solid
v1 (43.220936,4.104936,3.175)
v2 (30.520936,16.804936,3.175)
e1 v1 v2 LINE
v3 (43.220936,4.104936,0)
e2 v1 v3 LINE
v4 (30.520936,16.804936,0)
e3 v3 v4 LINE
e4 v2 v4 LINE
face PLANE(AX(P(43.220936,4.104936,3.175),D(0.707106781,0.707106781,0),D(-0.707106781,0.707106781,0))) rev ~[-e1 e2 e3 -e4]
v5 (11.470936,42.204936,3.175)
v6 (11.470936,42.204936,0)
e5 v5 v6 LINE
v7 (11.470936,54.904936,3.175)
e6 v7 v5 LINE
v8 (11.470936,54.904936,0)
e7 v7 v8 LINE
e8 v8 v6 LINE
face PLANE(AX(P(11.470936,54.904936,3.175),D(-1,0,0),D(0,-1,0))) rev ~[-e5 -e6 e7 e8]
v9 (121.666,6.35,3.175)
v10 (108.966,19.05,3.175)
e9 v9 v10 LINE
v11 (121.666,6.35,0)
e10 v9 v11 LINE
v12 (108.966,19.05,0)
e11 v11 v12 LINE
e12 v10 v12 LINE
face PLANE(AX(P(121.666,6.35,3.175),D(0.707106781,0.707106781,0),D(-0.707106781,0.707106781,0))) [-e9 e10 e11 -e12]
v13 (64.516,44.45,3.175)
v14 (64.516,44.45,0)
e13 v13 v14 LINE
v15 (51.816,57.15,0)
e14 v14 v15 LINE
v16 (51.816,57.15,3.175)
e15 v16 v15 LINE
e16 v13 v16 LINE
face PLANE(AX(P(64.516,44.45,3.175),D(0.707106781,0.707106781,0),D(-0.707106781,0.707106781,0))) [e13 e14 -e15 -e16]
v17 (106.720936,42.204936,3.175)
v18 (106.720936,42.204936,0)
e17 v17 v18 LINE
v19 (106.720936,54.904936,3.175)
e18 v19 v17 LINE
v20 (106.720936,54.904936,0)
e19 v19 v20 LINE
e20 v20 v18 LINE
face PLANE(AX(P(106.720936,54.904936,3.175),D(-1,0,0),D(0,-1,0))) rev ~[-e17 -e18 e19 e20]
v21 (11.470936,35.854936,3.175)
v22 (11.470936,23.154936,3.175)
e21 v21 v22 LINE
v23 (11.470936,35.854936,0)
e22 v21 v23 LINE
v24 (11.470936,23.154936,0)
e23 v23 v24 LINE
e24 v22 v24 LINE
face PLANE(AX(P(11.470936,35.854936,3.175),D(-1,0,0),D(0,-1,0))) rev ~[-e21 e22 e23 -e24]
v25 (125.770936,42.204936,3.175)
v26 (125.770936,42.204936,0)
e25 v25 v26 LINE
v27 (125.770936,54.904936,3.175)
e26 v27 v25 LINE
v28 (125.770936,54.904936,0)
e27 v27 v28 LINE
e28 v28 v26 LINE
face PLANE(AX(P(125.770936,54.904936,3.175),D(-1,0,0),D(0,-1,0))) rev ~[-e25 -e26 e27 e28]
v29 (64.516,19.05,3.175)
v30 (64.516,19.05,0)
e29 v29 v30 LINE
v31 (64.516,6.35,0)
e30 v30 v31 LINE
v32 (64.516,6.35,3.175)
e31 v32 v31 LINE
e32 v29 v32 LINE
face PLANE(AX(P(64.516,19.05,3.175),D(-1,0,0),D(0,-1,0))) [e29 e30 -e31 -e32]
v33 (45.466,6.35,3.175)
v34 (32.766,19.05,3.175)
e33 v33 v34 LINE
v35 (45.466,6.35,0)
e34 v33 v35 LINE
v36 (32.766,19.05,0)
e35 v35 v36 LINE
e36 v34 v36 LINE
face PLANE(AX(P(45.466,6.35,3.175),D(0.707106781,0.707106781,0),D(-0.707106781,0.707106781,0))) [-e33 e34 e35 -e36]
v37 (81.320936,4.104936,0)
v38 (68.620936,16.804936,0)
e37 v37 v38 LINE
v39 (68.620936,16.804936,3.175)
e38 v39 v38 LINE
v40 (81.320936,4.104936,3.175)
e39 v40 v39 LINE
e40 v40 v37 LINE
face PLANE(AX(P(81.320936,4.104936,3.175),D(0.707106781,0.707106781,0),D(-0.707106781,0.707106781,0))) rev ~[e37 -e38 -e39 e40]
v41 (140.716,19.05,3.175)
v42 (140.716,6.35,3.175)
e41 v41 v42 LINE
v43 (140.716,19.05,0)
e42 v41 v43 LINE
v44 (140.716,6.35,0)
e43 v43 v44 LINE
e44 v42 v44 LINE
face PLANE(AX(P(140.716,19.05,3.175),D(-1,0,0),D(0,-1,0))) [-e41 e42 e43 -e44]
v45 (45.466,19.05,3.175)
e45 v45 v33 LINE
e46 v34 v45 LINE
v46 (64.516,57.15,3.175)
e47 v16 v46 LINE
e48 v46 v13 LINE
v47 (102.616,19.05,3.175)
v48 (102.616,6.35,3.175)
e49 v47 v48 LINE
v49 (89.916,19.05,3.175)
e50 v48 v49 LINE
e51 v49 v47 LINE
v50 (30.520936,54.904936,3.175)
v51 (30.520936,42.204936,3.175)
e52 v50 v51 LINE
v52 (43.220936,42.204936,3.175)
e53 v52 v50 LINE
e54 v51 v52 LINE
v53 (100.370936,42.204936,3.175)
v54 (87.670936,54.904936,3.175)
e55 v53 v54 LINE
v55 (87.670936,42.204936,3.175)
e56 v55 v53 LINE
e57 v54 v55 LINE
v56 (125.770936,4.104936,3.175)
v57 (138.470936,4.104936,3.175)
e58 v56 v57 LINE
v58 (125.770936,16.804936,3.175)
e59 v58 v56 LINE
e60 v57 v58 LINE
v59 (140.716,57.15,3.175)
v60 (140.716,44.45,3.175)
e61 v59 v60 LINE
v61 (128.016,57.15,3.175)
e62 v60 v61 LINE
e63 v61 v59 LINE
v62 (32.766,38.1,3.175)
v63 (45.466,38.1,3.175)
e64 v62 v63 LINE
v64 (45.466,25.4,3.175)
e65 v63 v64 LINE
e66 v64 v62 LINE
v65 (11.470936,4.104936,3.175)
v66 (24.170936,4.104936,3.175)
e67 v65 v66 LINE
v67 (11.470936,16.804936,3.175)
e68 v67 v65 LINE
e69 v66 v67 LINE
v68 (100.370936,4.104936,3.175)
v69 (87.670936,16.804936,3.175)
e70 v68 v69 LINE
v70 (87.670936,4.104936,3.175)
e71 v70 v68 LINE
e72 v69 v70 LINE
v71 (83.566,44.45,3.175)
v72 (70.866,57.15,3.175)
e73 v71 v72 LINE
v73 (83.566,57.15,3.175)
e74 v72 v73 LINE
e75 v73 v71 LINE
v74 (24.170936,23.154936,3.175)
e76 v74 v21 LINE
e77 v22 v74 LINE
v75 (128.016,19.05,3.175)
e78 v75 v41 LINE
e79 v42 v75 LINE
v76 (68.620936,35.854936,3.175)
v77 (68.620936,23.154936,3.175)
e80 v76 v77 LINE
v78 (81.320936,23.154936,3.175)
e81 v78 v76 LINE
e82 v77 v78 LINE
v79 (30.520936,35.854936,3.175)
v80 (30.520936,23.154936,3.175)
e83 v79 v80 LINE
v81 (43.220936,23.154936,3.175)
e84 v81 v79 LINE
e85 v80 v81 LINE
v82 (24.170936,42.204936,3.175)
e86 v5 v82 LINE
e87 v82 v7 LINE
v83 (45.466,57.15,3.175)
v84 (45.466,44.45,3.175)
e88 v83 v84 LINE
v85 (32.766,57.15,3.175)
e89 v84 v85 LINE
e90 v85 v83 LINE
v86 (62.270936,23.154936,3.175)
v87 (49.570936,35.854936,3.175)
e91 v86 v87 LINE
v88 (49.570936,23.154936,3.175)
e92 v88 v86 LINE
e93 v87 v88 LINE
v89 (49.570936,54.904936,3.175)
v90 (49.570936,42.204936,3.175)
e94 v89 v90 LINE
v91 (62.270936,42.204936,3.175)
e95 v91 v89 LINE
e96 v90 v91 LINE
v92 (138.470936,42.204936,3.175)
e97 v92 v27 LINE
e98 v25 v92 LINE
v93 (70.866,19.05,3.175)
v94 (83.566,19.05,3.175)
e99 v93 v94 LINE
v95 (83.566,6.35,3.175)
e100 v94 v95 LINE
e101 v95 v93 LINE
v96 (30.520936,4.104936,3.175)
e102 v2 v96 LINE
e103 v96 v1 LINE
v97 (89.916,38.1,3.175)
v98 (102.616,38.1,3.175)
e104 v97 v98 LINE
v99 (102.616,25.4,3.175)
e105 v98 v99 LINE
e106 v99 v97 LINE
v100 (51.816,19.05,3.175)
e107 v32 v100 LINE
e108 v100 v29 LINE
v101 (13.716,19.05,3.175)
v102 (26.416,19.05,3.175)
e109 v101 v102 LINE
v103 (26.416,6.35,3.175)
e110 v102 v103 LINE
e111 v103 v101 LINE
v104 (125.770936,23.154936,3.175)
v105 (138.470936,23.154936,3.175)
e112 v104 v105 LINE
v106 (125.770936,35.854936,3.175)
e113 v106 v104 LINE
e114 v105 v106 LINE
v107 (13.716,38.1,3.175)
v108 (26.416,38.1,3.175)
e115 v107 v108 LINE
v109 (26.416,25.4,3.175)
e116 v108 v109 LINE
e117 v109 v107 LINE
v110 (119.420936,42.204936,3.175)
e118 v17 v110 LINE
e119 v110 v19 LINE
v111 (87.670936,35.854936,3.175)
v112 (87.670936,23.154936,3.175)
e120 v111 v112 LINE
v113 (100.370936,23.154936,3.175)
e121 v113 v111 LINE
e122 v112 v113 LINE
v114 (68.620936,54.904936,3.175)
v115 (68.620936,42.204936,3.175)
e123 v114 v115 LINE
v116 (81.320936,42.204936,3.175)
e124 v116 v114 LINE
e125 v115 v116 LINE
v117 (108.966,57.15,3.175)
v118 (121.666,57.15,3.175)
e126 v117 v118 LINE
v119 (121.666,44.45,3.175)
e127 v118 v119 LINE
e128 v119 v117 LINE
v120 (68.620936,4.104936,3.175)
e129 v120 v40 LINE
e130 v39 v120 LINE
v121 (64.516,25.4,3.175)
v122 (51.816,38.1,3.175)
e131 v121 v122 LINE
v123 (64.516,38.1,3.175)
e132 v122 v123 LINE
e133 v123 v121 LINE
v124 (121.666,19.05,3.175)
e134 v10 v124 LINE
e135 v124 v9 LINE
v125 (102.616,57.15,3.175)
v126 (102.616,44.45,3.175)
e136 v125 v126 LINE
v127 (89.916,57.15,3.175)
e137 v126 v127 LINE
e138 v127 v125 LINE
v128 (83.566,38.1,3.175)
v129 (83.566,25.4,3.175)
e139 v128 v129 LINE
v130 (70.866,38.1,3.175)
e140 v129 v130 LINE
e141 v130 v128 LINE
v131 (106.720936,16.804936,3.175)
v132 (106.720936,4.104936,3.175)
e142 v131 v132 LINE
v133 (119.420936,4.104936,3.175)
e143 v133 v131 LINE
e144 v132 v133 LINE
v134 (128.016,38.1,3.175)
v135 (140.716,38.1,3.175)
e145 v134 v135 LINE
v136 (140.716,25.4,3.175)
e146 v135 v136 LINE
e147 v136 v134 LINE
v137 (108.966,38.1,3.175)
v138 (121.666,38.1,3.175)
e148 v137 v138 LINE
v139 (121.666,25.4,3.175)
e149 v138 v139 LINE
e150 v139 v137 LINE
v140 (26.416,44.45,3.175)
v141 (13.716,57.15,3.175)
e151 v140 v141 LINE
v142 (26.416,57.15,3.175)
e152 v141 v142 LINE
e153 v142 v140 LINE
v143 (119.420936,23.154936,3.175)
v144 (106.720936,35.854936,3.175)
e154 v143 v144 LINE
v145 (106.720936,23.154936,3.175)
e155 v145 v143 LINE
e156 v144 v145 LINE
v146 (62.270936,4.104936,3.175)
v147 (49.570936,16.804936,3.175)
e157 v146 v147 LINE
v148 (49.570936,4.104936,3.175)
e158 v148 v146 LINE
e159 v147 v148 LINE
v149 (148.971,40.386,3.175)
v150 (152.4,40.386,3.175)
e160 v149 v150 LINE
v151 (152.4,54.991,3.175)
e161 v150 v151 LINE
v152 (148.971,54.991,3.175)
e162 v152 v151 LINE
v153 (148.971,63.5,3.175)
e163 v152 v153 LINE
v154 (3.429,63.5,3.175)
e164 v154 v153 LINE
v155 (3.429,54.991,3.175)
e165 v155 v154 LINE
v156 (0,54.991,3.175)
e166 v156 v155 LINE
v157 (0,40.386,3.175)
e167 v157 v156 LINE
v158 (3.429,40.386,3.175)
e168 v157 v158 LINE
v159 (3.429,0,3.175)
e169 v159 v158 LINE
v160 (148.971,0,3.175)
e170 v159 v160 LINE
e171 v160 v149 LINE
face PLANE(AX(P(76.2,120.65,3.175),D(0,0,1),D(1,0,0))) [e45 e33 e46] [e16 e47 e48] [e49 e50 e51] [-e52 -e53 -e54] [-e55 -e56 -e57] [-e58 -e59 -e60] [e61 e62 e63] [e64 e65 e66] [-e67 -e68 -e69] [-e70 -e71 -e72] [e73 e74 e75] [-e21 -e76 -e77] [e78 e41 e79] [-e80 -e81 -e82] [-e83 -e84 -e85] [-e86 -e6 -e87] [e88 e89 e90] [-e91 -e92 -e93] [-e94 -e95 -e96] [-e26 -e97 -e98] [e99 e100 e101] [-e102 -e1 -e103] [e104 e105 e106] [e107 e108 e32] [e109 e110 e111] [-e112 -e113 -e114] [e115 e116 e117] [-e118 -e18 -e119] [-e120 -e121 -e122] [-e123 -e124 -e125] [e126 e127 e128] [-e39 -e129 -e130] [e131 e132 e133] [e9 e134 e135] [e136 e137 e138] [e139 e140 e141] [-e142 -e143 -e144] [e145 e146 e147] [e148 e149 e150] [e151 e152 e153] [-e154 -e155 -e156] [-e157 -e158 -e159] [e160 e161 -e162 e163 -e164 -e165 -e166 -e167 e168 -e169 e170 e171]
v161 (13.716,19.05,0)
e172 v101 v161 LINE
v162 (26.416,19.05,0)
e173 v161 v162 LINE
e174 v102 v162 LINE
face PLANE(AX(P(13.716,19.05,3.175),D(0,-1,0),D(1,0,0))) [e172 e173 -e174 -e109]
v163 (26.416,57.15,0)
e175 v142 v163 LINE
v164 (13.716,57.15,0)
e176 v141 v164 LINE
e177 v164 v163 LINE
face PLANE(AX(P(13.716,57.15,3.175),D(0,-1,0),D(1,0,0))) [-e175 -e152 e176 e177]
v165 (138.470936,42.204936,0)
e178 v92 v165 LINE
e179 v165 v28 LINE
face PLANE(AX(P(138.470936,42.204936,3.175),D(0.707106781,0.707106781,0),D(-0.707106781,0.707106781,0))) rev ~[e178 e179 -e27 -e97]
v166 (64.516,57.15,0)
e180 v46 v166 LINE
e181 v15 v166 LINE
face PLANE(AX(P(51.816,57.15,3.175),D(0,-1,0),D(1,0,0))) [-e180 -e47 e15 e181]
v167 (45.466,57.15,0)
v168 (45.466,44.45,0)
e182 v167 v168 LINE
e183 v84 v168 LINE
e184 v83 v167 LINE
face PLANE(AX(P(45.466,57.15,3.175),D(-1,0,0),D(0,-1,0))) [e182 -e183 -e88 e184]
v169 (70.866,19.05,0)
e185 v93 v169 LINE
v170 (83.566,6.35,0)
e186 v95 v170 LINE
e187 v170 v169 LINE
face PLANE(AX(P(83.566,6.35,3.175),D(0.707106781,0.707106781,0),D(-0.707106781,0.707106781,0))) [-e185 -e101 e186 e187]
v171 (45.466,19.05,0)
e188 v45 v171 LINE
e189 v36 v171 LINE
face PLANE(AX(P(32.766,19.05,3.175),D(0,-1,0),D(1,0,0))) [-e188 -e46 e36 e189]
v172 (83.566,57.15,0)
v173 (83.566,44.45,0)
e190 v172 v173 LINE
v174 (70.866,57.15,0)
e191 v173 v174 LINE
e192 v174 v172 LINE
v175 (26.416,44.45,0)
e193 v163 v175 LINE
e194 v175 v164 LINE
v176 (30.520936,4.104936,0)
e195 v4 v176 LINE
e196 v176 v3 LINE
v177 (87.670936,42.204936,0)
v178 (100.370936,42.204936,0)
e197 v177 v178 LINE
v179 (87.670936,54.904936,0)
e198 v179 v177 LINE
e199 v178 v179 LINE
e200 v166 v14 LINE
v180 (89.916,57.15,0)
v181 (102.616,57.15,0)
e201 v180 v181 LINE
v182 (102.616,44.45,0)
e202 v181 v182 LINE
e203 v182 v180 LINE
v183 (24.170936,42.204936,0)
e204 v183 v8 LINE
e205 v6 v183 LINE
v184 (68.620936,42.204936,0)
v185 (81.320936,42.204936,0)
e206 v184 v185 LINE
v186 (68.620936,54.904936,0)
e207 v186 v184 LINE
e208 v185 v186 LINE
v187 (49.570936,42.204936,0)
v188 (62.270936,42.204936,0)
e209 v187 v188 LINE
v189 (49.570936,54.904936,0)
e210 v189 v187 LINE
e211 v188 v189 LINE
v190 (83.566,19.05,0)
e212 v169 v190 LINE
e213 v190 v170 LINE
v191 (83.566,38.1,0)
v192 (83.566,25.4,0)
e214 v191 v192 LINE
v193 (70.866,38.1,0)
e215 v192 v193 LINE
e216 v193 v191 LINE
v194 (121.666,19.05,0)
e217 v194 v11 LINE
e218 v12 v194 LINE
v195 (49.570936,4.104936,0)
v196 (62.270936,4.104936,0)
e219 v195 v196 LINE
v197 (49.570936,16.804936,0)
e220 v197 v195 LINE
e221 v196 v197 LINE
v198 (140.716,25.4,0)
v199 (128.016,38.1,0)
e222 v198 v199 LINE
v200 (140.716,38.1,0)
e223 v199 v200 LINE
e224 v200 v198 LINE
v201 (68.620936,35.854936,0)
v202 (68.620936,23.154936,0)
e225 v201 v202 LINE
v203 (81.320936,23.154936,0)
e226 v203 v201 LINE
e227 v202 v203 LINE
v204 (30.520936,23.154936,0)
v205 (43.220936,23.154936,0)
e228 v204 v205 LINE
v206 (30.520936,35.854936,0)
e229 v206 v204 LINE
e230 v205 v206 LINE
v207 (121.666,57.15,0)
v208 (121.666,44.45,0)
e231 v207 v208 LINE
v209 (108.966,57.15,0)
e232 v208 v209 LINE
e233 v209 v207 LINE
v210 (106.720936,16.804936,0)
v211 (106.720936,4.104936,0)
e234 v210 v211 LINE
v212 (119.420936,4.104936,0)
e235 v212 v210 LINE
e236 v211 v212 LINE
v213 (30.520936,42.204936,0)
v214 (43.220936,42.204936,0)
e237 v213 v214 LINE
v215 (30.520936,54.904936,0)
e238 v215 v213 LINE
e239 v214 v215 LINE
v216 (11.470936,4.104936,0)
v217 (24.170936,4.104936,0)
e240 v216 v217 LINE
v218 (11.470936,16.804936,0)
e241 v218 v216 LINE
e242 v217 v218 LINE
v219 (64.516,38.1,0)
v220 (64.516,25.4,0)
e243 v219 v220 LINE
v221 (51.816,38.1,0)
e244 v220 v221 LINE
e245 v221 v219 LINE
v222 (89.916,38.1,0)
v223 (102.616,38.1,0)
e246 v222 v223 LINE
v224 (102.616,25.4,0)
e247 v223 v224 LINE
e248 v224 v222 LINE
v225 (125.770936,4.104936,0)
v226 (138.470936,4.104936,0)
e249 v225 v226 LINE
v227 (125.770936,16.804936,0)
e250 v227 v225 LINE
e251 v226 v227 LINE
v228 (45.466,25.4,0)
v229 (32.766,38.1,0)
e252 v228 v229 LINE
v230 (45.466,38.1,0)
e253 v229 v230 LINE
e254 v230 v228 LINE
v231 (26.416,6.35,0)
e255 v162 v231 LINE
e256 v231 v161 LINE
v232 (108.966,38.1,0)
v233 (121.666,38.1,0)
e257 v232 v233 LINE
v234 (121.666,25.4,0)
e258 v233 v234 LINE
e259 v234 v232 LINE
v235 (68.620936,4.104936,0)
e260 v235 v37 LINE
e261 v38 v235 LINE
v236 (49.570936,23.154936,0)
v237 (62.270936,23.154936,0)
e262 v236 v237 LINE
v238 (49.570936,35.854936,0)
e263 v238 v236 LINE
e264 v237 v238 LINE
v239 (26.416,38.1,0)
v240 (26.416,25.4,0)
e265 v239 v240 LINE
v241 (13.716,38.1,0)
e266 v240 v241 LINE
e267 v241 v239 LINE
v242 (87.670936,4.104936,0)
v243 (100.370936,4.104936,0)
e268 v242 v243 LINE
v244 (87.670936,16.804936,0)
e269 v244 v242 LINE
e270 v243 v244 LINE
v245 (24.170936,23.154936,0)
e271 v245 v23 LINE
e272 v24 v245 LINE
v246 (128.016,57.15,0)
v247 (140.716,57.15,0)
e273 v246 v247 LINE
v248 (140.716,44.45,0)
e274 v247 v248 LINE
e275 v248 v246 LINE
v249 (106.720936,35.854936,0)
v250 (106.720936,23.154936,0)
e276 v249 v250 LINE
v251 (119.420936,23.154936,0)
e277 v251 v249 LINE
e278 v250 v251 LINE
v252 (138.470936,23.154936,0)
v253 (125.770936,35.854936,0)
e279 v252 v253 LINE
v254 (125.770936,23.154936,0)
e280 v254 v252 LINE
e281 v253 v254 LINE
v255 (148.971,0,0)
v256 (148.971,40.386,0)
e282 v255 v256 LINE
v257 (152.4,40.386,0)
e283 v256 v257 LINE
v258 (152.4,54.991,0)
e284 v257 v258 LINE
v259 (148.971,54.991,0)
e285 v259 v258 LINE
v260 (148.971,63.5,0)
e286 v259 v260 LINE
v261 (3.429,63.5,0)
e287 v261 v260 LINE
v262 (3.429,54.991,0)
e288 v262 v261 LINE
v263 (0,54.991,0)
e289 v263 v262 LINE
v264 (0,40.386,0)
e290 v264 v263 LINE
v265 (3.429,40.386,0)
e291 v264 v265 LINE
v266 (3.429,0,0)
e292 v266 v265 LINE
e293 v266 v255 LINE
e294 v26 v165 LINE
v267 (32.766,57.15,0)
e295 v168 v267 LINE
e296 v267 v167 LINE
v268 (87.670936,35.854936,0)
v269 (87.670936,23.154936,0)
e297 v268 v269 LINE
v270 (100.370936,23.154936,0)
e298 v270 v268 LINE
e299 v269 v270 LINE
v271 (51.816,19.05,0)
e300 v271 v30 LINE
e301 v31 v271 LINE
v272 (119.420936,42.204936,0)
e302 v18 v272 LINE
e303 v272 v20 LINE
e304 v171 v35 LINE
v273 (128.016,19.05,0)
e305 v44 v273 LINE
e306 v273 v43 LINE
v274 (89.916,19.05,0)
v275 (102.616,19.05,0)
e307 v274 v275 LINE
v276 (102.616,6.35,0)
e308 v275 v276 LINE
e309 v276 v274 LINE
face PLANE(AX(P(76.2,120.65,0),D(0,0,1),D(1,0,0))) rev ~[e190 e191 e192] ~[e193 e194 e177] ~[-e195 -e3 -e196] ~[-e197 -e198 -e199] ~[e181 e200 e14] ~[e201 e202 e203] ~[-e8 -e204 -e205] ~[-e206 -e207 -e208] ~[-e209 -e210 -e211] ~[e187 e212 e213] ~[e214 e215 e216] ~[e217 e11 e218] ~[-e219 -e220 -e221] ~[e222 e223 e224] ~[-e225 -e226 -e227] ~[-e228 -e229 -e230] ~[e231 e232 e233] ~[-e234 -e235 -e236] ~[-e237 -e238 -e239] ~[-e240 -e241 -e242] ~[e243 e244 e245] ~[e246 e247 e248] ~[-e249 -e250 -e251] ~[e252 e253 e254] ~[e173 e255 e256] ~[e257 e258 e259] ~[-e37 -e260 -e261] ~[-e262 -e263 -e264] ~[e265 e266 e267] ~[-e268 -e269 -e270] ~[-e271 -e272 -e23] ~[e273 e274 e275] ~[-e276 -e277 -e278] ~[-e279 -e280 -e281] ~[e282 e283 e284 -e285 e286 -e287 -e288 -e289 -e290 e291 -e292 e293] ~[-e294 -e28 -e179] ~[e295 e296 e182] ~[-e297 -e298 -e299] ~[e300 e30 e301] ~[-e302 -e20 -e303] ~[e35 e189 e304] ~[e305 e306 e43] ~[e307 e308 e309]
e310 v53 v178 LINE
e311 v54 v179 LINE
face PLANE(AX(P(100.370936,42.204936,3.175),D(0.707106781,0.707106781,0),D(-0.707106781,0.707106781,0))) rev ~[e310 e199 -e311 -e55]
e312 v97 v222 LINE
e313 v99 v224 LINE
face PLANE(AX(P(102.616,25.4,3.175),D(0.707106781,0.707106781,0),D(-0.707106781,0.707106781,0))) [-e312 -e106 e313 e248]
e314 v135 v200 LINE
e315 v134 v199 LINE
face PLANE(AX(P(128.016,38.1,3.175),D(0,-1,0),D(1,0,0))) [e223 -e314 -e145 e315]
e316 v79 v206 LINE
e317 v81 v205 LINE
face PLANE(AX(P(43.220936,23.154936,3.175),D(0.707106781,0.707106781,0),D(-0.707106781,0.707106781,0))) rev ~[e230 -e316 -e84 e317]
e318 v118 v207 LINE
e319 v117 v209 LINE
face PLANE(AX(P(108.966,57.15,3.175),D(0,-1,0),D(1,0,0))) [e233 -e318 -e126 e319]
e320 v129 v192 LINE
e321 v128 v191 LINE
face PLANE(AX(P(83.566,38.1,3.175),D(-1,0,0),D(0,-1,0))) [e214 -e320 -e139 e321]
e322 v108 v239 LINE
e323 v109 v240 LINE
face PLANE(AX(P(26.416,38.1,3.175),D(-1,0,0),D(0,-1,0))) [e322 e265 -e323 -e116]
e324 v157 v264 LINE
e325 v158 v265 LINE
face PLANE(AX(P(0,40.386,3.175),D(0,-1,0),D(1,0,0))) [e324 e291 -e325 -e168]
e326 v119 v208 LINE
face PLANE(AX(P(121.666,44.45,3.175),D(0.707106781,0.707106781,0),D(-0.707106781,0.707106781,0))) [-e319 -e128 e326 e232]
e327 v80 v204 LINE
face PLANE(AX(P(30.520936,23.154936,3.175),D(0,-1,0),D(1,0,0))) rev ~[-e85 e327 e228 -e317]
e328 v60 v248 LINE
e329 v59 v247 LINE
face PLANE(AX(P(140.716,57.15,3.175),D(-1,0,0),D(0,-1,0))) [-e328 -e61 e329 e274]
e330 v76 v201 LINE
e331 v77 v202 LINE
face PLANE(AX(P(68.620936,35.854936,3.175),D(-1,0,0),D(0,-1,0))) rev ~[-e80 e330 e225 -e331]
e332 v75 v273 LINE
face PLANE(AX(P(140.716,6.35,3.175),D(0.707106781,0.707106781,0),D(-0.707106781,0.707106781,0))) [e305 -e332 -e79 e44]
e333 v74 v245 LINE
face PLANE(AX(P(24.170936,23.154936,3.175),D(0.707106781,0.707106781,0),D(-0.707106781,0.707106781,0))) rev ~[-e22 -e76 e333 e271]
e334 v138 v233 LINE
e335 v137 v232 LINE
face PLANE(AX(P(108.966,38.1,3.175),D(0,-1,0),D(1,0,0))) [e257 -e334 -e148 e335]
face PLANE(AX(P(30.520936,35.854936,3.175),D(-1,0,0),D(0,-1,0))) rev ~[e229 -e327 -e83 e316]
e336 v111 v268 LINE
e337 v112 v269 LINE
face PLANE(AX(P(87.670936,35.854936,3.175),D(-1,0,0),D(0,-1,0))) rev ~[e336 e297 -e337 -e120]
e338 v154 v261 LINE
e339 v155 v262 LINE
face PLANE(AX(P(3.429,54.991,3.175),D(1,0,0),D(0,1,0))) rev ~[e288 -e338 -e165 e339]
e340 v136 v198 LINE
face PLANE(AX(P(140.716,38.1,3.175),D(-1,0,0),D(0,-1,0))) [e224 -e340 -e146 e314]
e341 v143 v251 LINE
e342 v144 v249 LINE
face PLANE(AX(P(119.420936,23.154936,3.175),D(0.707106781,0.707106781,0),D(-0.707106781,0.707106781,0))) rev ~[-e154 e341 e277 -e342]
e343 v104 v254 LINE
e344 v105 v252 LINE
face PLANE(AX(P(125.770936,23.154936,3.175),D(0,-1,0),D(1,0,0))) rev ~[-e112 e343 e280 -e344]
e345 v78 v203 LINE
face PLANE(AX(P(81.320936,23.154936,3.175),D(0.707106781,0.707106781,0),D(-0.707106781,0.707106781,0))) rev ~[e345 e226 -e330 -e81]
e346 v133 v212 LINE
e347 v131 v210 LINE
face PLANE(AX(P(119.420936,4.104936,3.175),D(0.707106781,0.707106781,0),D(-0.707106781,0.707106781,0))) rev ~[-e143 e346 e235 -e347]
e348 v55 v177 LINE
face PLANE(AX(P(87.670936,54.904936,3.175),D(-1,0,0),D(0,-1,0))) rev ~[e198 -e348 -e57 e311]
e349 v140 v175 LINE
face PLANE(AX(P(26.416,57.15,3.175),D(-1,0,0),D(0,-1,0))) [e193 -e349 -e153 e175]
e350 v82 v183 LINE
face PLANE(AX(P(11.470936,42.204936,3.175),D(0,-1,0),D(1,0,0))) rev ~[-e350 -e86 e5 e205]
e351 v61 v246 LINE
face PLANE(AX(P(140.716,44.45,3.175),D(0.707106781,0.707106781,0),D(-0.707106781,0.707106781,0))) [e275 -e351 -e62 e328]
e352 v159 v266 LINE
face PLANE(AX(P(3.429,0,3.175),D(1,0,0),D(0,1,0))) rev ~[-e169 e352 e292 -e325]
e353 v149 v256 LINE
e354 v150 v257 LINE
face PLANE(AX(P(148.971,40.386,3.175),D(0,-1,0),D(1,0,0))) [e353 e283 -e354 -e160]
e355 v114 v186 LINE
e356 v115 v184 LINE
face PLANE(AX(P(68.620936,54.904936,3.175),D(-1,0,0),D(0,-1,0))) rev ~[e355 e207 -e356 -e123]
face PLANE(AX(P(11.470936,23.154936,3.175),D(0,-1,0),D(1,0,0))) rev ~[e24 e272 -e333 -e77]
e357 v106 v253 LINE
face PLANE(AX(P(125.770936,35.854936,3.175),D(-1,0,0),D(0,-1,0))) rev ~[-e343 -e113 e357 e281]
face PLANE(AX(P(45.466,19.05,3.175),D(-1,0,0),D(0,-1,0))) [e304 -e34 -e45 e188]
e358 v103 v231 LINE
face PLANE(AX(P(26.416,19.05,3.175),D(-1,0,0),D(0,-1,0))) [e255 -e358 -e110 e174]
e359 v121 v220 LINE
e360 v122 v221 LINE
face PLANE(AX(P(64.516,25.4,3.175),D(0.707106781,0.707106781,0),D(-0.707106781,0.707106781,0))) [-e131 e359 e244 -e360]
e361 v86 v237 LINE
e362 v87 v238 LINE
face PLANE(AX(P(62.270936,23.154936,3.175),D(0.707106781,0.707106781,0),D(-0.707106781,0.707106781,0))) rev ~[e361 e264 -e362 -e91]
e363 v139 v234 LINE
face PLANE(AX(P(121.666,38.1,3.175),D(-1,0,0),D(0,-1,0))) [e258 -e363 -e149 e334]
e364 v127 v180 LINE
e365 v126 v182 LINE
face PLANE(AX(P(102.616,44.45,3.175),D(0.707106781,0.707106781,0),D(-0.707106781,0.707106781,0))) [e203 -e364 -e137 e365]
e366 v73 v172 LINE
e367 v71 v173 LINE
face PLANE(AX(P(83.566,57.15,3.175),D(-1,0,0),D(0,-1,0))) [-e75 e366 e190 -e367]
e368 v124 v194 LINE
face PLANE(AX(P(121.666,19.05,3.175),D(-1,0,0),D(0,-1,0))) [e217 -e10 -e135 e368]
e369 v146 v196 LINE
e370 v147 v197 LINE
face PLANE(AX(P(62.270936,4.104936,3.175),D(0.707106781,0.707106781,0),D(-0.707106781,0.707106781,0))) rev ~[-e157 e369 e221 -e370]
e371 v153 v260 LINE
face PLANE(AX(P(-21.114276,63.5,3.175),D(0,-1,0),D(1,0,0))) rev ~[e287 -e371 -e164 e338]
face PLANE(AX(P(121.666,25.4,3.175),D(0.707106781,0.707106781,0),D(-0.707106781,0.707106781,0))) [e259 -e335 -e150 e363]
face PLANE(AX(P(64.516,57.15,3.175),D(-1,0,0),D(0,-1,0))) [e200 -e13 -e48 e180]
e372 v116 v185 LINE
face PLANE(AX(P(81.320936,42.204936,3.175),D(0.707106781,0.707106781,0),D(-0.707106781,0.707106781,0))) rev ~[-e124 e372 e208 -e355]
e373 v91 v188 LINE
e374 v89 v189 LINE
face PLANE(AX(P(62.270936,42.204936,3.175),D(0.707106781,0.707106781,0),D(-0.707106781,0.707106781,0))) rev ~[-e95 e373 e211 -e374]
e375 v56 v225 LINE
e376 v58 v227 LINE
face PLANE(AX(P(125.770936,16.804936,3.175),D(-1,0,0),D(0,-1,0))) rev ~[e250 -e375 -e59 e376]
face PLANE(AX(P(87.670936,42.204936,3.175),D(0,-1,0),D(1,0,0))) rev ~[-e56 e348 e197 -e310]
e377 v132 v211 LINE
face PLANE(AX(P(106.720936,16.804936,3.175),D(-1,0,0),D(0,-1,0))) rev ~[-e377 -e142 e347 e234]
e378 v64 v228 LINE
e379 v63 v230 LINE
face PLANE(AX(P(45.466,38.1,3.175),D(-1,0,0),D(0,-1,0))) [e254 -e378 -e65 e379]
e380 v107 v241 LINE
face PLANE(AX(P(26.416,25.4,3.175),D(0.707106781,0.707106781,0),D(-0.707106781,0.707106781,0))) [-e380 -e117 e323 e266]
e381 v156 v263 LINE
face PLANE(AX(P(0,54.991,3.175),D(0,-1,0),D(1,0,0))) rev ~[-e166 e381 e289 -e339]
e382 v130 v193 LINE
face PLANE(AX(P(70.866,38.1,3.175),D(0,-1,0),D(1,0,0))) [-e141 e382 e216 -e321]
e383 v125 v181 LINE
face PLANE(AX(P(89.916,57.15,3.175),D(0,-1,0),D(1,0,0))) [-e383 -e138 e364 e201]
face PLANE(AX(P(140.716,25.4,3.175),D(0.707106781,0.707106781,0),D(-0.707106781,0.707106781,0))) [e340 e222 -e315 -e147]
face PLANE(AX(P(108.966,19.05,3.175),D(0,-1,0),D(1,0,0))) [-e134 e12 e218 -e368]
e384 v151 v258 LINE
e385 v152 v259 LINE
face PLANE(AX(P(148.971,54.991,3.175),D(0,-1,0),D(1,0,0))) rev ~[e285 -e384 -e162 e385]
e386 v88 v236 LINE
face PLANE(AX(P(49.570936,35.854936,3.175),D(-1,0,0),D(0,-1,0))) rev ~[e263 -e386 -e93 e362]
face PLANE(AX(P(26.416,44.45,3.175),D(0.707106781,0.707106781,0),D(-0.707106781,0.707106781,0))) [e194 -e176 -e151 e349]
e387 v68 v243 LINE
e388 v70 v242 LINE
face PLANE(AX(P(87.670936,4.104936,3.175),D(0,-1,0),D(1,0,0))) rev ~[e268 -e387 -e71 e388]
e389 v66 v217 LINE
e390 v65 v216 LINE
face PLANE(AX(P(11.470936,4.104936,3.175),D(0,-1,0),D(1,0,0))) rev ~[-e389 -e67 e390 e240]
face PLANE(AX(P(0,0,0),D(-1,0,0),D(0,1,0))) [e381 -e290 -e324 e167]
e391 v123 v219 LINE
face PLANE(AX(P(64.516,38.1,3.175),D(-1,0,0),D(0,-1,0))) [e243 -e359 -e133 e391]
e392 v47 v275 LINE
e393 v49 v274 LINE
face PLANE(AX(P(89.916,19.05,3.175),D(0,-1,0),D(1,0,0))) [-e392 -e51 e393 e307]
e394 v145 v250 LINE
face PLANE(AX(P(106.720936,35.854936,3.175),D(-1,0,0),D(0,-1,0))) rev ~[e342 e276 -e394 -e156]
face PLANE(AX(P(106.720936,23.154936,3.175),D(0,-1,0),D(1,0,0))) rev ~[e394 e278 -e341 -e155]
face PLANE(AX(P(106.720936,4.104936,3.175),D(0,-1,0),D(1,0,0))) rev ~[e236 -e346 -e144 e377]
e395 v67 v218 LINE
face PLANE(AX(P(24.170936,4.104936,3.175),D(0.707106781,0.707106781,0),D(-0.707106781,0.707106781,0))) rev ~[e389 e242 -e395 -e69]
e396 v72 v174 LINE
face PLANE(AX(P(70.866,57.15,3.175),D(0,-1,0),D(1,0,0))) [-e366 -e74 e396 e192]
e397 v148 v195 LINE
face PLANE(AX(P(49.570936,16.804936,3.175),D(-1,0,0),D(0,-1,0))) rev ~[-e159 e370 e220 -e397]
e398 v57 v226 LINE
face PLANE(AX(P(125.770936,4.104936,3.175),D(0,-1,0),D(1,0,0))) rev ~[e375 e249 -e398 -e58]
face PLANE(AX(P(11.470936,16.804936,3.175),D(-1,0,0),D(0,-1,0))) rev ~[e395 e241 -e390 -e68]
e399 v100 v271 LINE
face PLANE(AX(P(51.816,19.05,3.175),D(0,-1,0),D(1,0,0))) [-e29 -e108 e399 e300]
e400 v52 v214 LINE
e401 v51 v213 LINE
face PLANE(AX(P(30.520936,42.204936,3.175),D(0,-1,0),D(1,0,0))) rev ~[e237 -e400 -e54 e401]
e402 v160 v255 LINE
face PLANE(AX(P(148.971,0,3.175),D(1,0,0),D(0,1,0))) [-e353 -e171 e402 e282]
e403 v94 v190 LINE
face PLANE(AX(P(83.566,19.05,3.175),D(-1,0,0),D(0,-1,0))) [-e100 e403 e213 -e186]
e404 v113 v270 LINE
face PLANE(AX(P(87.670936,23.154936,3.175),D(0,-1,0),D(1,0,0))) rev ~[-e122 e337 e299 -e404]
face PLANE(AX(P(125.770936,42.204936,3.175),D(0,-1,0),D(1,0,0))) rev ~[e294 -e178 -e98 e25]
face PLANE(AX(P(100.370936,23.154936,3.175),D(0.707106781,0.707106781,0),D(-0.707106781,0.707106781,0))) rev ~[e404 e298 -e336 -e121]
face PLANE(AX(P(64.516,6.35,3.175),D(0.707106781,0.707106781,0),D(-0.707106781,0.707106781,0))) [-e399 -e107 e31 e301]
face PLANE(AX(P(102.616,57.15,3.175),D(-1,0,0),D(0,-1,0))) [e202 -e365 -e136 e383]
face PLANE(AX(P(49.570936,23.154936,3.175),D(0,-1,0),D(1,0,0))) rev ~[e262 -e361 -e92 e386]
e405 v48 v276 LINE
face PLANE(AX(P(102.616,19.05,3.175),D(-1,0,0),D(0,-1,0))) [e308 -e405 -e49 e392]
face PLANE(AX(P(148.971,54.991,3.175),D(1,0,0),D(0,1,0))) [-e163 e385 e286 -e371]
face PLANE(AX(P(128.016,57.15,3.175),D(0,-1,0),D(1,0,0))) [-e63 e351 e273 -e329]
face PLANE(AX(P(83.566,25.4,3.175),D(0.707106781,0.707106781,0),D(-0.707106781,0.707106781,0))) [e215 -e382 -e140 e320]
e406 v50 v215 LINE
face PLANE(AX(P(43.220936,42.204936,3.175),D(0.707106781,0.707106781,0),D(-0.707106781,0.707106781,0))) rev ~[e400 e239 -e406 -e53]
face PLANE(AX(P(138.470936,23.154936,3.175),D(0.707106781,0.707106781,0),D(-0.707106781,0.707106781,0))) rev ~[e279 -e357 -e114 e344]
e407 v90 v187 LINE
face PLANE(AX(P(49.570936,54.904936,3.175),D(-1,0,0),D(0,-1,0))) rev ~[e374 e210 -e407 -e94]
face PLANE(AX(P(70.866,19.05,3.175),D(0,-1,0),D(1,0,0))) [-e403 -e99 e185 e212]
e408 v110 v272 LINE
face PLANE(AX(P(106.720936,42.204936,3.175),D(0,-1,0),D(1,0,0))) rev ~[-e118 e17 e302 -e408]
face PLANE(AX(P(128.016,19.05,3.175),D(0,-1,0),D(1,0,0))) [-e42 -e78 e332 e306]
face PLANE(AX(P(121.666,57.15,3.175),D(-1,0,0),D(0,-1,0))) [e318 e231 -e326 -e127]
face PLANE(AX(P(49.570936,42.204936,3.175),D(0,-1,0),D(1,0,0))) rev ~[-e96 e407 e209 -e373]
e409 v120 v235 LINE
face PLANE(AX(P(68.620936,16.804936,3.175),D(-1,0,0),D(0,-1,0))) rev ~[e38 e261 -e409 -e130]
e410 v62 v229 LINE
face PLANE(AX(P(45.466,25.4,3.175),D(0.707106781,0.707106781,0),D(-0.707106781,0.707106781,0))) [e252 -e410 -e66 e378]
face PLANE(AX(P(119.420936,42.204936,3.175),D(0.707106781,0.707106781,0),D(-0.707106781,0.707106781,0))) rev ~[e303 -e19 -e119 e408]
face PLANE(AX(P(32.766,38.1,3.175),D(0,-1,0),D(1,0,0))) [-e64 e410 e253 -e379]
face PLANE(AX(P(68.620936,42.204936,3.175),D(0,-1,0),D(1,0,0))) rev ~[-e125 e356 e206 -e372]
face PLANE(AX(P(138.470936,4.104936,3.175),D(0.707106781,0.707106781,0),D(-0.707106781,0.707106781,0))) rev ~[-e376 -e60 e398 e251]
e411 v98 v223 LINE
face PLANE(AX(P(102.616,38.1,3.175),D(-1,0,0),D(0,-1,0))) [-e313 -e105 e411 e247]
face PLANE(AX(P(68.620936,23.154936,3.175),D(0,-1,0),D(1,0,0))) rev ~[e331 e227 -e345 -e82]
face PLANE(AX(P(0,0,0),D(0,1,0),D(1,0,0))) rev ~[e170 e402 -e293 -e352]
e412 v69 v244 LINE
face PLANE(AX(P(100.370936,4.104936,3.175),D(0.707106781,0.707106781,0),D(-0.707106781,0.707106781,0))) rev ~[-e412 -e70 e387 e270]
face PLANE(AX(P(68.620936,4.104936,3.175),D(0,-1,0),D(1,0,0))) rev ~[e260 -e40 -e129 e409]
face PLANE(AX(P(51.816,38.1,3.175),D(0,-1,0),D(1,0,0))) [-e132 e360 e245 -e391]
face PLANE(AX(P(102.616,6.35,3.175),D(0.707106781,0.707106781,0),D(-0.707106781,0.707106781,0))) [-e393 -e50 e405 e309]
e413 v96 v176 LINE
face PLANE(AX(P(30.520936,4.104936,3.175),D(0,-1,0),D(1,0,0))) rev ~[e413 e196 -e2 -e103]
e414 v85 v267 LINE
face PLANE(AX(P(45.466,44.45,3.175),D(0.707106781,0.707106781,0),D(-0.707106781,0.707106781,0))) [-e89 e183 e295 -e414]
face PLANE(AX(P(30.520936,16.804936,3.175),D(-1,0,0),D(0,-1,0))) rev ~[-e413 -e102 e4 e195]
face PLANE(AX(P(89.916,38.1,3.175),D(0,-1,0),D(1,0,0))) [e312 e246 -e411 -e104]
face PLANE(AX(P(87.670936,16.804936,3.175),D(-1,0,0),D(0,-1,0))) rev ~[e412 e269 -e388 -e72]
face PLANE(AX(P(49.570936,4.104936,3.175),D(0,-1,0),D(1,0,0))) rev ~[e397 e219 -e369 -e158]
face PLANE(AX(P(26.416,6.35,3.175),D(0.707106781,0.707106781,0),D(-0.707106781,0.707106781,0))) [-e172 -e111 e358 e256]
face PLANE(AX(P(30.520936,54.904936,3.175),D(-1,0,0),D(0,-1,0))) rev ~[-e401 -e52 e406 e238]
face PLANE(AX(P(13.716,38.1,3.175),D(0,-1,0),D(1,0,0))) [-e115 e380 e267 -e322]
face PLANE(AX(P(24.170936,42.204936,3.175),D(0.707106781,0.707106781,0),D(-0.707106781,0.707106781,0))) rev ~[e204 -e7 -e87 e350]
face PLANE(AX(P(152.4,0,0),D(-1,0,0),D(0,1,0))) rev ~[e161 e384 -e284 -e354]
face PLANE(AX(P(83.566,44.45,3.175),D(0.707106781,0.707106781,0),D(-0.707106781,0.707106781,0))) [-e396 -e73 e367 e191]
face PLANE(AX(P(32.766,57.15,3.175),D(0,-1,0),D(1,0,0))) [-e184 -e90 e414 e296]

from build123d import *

# Parameters (mm, degrees)
SKETCH1_W           = 152.4
SKETCH1_H           = 241.3
BOSS_EXTRUDE1_DEPTH = 3.175
SKETCH2_W           = 3.429
SKETCH2_H           = 168.148
SKETCH2_H_2         = 40.386
CUT_EXTRUDE1_DEPTH  = 286.414664348
SKETCH3_W           = 119.38
SKETCH3_H           = 119.38
SKETCH3_W_2         = 74.6125
SKETCH3_H_2         = 25.4
SKETCH3_W_3         = 12.7
SKETCH3_H_3         = 16.256
SKETCH3_W_4         = 5.334
SKETCH3_H_4         = 7.239
CUT_EXTRUDE2_DEPTH  = 286.414664348
SKETCH4_W           = 194.284224207
SKETCH4_H           = 180.265938869
CUT_EXTRUDE4_DEPTH  = 286.414664348


with BuildPart() as part:
    # Sketch1 → Boss-Extrude1 (new body)
    with BuildSketch(Plane.XY):
        with Locations((76.2, 120.65)):
            Rectangle(SKETCH1_W, SKETCH1_H)
    extrude(amount=BOSS_EXTRUDE1_DEPTH)

    # Sketch2 → Cut-Extrude1 (cut, through all)
    with BuildSketch(Plane.XY.offset(3.175)):
        with Locations((150.6855, 139.065)):
            Rectangle(SKETCH2_W, SKETCH2_H)
        with Locations((1.7145, 139.065)):
            Rectangle(SKETCH2_W, SKETCH2_H)
        with Locations((150.6855, 20.193)):
            Rectangle(SKETCH2_W, SKETCH2_H_2)
        with Locations((1.7145, 20.193)):
            Rectangle(SKETCH2_W, SKETCH2_H_2)
    extrude(amount=-CUT_EXTRUDE1_DEPTH, mode=Mode.SUBTRACT)

    # Sketch3 → Cut-Extrude2 (cut, through all)
    with BuildSketch(Plane.XY.offset(3.175)):
        Polygon((128.016, 57.15), (140.716, 57.15), (140.716, 44.45), align=None)
        Polygon((125.77093597, 42.20493597), (138.47093597, 42.20493597), (125.77093597, 54.90493597), align=None)
        Polygon((108.966, 57.15), (121.666, 57.15), (121.666, 44.45), align=None)
        Polygon((119.42093597, 42.20493597), (106.72093597, 54.90493597), (106.72093597, 42.20493597), align=None)
        Polygon((89.916, 57.15), (102.616, 57.15), (102.616, 44.45), align=None)
        Polygon((100.37093597, 42.20493597), (87.67093597, 54.90493597), (87.67093597, 42.20493597), align=None)
        Polygon((70.866, 57.15), (83.566, 57.15), (83.566, 44.45), align=None)
        Polygon((81.32093597, 42.20493597), (68.62093597, 54.90493597), (68.62093597, 42.20493597), align=None)
        Polygon((51.816, 57.15), (64.516, 57.15), (64.516, 44.45), align=None)
        Polygon((62.27093597, 42.20493597), (49.57093597, 54.90493597), (49.57093597, 42.20493597), align=None)
        Polygon((32.766, 57.15), (45.466, 57.15), (45.466, 44.45), align=None)
        Polygon((43.22093597, 42.20493597), (30.52093597, 54.90493597), (30.52093597, 42.20493597), align=None)
        Polygon((13.716, 57.15), (26.416, 57.15), (26.416, 44.45), align=None)
        Polygon((24.17093597, 42.20493597), (11.47093597, 54.90493597), (11.47093597, 42.20493597), align=None)
        Polygon((128.016, 38.1), (140.716, 38.1), (140.716, 25.4), align=None)
        with Locations((76.454, 129.159)):
            Rectangle(SKETCH3_W, SKETCH3_H)
        Polygon((125.77093597, 23.15493597), (138.47093597, 23.15493597), (125.77093597, 35.85493597), align=None)
        Polygon((108.966, 38.1), (121.666, 38.1), (121.666, 25.4), align=None)
        Polygon((119.42093597, 23.15493597), (106.72093597, 35.85493597), (106.72093597, 23.15493597), align=None)
        Polygon((89.916, 38.1), (102.616, 38.1), (102.616, 25.4), align=None)
        Polygon((100.37093597, 23.15493597), (87.67093597, 35.85493597), (87.67093597, 23.15493597), align=None)
        Polygon((70.866, 38.1), (83.566, 38.1), (83.566, 25.4), align=None)
        Polygon((81.32093597, 23.15493597), (68.62093597, 35.85493597), (68.62093597, 23.15493597), align=None)
        Polygon((51.816, 38.1), (64.516, 38.1), (64.516, 25.4), align=None)
        Polygon((62.27093597, 23.15493597), (49.57093597, 35.85493597), (49.57093597, 23.15493597), align=None)
        Polygon((32.766, 38.1), (45.466, 38.1), (45.466, 25.4), align=None)
        Polygon((43.22093597, 23.15493597), (30.52093597, 35.85493597), (30.52093597, 23.15493597), align=None)
        Polygon((13.716, 38.1), (26.416, 38.1), (26.416, 25.4), align=None)
        Polygon((24.17093597, 23.15493597), (11.47093597, 35.85493597), (11.47093597, 23.15493597), align=None)
        Polygon((128.016, 19.05), (140.716, 19.05), (140.716, 6.35), align=None)
        Polygon((125.77093597, 4.10493597), (138.47093597, 4.10493597), (125.77093597, 16.80493597), align=None)
        Polygon((108.966, 19.05), (121.666, 19.05), (121.666, 6.35), align=None)
        Polygon((119.42093597, 4.10493597), (106.72093597, 16.80493597), (106.72093597, 4.10493597), align=None)
        Polygon((89.916, 19.05), (102.616, 19.05), (102.616, 6.35), align=None)
        Polygon((100.37093597, 4.10493597), (87.67093597, 16.80493597), (87.67093597, 4.10493597), align=None)
        Polygon((70.866, 19.05), (83.566, 19.05), (83.566, 6.35), align=None)
        Polygon((81.32093597, 4.10493597), (68.62093597, 16.80493597), (68.62093597, 4.10493597), align=None)
        Polygon((51.816, 19.05), (64.516, 19.05), (64.516, 6.35), align=None)
        Polygon((62.27093597, 4.10493597), (49.57093597, 16.80493597), (49.57093597, 4.10493597), align=None)
        Polygon((32.766, 19.05), (45.466, 19.05), (45.466, 6.35), align=None)
        Polygon((43.22093597, 4.10493597), (30.52093597, 16.80493597), (30.52093597, 4.10493597), align=None)
        Polygon((13.716, 19.05), (26.416, 19.05), (26.416, 6.35), align=None)
        Polygon((24.17093597, 4.10493597), (11.47093597, 16.80493597), (11.47093597, 4.10493597), align=None)
        with Locations((54.07025, 215.519)):
            Rectangle(SKETCH3_W_2, SKETCH3_H_2)
        with Locations((129.794, 210.947)):
            Rectangle(SKETCH3_W_3, SKETCH3_H_3)
        with Locations((104.0765, 206.4385)):
            Rectangle(SKETCH3_W_4, SKETCH3_H_4)
    extrude(amount=-CUT_EXTRUDE2_DEPTH, mode=Mode.SUBTRACT)

    # Sketch4 → Cut-Extrude4 (cut, through all)
    with BuildSketch(Plane.XY.offset(3.175)):
        with Locations((76.027835775, 153.632969435)):
            Rectangle(SKETCH4_W, SKETCH4_H)
    extrude(amount=-CUT_EXTRUDE4_DEPTH, mode=Mode.SUBTRACT)


solid = part.part
